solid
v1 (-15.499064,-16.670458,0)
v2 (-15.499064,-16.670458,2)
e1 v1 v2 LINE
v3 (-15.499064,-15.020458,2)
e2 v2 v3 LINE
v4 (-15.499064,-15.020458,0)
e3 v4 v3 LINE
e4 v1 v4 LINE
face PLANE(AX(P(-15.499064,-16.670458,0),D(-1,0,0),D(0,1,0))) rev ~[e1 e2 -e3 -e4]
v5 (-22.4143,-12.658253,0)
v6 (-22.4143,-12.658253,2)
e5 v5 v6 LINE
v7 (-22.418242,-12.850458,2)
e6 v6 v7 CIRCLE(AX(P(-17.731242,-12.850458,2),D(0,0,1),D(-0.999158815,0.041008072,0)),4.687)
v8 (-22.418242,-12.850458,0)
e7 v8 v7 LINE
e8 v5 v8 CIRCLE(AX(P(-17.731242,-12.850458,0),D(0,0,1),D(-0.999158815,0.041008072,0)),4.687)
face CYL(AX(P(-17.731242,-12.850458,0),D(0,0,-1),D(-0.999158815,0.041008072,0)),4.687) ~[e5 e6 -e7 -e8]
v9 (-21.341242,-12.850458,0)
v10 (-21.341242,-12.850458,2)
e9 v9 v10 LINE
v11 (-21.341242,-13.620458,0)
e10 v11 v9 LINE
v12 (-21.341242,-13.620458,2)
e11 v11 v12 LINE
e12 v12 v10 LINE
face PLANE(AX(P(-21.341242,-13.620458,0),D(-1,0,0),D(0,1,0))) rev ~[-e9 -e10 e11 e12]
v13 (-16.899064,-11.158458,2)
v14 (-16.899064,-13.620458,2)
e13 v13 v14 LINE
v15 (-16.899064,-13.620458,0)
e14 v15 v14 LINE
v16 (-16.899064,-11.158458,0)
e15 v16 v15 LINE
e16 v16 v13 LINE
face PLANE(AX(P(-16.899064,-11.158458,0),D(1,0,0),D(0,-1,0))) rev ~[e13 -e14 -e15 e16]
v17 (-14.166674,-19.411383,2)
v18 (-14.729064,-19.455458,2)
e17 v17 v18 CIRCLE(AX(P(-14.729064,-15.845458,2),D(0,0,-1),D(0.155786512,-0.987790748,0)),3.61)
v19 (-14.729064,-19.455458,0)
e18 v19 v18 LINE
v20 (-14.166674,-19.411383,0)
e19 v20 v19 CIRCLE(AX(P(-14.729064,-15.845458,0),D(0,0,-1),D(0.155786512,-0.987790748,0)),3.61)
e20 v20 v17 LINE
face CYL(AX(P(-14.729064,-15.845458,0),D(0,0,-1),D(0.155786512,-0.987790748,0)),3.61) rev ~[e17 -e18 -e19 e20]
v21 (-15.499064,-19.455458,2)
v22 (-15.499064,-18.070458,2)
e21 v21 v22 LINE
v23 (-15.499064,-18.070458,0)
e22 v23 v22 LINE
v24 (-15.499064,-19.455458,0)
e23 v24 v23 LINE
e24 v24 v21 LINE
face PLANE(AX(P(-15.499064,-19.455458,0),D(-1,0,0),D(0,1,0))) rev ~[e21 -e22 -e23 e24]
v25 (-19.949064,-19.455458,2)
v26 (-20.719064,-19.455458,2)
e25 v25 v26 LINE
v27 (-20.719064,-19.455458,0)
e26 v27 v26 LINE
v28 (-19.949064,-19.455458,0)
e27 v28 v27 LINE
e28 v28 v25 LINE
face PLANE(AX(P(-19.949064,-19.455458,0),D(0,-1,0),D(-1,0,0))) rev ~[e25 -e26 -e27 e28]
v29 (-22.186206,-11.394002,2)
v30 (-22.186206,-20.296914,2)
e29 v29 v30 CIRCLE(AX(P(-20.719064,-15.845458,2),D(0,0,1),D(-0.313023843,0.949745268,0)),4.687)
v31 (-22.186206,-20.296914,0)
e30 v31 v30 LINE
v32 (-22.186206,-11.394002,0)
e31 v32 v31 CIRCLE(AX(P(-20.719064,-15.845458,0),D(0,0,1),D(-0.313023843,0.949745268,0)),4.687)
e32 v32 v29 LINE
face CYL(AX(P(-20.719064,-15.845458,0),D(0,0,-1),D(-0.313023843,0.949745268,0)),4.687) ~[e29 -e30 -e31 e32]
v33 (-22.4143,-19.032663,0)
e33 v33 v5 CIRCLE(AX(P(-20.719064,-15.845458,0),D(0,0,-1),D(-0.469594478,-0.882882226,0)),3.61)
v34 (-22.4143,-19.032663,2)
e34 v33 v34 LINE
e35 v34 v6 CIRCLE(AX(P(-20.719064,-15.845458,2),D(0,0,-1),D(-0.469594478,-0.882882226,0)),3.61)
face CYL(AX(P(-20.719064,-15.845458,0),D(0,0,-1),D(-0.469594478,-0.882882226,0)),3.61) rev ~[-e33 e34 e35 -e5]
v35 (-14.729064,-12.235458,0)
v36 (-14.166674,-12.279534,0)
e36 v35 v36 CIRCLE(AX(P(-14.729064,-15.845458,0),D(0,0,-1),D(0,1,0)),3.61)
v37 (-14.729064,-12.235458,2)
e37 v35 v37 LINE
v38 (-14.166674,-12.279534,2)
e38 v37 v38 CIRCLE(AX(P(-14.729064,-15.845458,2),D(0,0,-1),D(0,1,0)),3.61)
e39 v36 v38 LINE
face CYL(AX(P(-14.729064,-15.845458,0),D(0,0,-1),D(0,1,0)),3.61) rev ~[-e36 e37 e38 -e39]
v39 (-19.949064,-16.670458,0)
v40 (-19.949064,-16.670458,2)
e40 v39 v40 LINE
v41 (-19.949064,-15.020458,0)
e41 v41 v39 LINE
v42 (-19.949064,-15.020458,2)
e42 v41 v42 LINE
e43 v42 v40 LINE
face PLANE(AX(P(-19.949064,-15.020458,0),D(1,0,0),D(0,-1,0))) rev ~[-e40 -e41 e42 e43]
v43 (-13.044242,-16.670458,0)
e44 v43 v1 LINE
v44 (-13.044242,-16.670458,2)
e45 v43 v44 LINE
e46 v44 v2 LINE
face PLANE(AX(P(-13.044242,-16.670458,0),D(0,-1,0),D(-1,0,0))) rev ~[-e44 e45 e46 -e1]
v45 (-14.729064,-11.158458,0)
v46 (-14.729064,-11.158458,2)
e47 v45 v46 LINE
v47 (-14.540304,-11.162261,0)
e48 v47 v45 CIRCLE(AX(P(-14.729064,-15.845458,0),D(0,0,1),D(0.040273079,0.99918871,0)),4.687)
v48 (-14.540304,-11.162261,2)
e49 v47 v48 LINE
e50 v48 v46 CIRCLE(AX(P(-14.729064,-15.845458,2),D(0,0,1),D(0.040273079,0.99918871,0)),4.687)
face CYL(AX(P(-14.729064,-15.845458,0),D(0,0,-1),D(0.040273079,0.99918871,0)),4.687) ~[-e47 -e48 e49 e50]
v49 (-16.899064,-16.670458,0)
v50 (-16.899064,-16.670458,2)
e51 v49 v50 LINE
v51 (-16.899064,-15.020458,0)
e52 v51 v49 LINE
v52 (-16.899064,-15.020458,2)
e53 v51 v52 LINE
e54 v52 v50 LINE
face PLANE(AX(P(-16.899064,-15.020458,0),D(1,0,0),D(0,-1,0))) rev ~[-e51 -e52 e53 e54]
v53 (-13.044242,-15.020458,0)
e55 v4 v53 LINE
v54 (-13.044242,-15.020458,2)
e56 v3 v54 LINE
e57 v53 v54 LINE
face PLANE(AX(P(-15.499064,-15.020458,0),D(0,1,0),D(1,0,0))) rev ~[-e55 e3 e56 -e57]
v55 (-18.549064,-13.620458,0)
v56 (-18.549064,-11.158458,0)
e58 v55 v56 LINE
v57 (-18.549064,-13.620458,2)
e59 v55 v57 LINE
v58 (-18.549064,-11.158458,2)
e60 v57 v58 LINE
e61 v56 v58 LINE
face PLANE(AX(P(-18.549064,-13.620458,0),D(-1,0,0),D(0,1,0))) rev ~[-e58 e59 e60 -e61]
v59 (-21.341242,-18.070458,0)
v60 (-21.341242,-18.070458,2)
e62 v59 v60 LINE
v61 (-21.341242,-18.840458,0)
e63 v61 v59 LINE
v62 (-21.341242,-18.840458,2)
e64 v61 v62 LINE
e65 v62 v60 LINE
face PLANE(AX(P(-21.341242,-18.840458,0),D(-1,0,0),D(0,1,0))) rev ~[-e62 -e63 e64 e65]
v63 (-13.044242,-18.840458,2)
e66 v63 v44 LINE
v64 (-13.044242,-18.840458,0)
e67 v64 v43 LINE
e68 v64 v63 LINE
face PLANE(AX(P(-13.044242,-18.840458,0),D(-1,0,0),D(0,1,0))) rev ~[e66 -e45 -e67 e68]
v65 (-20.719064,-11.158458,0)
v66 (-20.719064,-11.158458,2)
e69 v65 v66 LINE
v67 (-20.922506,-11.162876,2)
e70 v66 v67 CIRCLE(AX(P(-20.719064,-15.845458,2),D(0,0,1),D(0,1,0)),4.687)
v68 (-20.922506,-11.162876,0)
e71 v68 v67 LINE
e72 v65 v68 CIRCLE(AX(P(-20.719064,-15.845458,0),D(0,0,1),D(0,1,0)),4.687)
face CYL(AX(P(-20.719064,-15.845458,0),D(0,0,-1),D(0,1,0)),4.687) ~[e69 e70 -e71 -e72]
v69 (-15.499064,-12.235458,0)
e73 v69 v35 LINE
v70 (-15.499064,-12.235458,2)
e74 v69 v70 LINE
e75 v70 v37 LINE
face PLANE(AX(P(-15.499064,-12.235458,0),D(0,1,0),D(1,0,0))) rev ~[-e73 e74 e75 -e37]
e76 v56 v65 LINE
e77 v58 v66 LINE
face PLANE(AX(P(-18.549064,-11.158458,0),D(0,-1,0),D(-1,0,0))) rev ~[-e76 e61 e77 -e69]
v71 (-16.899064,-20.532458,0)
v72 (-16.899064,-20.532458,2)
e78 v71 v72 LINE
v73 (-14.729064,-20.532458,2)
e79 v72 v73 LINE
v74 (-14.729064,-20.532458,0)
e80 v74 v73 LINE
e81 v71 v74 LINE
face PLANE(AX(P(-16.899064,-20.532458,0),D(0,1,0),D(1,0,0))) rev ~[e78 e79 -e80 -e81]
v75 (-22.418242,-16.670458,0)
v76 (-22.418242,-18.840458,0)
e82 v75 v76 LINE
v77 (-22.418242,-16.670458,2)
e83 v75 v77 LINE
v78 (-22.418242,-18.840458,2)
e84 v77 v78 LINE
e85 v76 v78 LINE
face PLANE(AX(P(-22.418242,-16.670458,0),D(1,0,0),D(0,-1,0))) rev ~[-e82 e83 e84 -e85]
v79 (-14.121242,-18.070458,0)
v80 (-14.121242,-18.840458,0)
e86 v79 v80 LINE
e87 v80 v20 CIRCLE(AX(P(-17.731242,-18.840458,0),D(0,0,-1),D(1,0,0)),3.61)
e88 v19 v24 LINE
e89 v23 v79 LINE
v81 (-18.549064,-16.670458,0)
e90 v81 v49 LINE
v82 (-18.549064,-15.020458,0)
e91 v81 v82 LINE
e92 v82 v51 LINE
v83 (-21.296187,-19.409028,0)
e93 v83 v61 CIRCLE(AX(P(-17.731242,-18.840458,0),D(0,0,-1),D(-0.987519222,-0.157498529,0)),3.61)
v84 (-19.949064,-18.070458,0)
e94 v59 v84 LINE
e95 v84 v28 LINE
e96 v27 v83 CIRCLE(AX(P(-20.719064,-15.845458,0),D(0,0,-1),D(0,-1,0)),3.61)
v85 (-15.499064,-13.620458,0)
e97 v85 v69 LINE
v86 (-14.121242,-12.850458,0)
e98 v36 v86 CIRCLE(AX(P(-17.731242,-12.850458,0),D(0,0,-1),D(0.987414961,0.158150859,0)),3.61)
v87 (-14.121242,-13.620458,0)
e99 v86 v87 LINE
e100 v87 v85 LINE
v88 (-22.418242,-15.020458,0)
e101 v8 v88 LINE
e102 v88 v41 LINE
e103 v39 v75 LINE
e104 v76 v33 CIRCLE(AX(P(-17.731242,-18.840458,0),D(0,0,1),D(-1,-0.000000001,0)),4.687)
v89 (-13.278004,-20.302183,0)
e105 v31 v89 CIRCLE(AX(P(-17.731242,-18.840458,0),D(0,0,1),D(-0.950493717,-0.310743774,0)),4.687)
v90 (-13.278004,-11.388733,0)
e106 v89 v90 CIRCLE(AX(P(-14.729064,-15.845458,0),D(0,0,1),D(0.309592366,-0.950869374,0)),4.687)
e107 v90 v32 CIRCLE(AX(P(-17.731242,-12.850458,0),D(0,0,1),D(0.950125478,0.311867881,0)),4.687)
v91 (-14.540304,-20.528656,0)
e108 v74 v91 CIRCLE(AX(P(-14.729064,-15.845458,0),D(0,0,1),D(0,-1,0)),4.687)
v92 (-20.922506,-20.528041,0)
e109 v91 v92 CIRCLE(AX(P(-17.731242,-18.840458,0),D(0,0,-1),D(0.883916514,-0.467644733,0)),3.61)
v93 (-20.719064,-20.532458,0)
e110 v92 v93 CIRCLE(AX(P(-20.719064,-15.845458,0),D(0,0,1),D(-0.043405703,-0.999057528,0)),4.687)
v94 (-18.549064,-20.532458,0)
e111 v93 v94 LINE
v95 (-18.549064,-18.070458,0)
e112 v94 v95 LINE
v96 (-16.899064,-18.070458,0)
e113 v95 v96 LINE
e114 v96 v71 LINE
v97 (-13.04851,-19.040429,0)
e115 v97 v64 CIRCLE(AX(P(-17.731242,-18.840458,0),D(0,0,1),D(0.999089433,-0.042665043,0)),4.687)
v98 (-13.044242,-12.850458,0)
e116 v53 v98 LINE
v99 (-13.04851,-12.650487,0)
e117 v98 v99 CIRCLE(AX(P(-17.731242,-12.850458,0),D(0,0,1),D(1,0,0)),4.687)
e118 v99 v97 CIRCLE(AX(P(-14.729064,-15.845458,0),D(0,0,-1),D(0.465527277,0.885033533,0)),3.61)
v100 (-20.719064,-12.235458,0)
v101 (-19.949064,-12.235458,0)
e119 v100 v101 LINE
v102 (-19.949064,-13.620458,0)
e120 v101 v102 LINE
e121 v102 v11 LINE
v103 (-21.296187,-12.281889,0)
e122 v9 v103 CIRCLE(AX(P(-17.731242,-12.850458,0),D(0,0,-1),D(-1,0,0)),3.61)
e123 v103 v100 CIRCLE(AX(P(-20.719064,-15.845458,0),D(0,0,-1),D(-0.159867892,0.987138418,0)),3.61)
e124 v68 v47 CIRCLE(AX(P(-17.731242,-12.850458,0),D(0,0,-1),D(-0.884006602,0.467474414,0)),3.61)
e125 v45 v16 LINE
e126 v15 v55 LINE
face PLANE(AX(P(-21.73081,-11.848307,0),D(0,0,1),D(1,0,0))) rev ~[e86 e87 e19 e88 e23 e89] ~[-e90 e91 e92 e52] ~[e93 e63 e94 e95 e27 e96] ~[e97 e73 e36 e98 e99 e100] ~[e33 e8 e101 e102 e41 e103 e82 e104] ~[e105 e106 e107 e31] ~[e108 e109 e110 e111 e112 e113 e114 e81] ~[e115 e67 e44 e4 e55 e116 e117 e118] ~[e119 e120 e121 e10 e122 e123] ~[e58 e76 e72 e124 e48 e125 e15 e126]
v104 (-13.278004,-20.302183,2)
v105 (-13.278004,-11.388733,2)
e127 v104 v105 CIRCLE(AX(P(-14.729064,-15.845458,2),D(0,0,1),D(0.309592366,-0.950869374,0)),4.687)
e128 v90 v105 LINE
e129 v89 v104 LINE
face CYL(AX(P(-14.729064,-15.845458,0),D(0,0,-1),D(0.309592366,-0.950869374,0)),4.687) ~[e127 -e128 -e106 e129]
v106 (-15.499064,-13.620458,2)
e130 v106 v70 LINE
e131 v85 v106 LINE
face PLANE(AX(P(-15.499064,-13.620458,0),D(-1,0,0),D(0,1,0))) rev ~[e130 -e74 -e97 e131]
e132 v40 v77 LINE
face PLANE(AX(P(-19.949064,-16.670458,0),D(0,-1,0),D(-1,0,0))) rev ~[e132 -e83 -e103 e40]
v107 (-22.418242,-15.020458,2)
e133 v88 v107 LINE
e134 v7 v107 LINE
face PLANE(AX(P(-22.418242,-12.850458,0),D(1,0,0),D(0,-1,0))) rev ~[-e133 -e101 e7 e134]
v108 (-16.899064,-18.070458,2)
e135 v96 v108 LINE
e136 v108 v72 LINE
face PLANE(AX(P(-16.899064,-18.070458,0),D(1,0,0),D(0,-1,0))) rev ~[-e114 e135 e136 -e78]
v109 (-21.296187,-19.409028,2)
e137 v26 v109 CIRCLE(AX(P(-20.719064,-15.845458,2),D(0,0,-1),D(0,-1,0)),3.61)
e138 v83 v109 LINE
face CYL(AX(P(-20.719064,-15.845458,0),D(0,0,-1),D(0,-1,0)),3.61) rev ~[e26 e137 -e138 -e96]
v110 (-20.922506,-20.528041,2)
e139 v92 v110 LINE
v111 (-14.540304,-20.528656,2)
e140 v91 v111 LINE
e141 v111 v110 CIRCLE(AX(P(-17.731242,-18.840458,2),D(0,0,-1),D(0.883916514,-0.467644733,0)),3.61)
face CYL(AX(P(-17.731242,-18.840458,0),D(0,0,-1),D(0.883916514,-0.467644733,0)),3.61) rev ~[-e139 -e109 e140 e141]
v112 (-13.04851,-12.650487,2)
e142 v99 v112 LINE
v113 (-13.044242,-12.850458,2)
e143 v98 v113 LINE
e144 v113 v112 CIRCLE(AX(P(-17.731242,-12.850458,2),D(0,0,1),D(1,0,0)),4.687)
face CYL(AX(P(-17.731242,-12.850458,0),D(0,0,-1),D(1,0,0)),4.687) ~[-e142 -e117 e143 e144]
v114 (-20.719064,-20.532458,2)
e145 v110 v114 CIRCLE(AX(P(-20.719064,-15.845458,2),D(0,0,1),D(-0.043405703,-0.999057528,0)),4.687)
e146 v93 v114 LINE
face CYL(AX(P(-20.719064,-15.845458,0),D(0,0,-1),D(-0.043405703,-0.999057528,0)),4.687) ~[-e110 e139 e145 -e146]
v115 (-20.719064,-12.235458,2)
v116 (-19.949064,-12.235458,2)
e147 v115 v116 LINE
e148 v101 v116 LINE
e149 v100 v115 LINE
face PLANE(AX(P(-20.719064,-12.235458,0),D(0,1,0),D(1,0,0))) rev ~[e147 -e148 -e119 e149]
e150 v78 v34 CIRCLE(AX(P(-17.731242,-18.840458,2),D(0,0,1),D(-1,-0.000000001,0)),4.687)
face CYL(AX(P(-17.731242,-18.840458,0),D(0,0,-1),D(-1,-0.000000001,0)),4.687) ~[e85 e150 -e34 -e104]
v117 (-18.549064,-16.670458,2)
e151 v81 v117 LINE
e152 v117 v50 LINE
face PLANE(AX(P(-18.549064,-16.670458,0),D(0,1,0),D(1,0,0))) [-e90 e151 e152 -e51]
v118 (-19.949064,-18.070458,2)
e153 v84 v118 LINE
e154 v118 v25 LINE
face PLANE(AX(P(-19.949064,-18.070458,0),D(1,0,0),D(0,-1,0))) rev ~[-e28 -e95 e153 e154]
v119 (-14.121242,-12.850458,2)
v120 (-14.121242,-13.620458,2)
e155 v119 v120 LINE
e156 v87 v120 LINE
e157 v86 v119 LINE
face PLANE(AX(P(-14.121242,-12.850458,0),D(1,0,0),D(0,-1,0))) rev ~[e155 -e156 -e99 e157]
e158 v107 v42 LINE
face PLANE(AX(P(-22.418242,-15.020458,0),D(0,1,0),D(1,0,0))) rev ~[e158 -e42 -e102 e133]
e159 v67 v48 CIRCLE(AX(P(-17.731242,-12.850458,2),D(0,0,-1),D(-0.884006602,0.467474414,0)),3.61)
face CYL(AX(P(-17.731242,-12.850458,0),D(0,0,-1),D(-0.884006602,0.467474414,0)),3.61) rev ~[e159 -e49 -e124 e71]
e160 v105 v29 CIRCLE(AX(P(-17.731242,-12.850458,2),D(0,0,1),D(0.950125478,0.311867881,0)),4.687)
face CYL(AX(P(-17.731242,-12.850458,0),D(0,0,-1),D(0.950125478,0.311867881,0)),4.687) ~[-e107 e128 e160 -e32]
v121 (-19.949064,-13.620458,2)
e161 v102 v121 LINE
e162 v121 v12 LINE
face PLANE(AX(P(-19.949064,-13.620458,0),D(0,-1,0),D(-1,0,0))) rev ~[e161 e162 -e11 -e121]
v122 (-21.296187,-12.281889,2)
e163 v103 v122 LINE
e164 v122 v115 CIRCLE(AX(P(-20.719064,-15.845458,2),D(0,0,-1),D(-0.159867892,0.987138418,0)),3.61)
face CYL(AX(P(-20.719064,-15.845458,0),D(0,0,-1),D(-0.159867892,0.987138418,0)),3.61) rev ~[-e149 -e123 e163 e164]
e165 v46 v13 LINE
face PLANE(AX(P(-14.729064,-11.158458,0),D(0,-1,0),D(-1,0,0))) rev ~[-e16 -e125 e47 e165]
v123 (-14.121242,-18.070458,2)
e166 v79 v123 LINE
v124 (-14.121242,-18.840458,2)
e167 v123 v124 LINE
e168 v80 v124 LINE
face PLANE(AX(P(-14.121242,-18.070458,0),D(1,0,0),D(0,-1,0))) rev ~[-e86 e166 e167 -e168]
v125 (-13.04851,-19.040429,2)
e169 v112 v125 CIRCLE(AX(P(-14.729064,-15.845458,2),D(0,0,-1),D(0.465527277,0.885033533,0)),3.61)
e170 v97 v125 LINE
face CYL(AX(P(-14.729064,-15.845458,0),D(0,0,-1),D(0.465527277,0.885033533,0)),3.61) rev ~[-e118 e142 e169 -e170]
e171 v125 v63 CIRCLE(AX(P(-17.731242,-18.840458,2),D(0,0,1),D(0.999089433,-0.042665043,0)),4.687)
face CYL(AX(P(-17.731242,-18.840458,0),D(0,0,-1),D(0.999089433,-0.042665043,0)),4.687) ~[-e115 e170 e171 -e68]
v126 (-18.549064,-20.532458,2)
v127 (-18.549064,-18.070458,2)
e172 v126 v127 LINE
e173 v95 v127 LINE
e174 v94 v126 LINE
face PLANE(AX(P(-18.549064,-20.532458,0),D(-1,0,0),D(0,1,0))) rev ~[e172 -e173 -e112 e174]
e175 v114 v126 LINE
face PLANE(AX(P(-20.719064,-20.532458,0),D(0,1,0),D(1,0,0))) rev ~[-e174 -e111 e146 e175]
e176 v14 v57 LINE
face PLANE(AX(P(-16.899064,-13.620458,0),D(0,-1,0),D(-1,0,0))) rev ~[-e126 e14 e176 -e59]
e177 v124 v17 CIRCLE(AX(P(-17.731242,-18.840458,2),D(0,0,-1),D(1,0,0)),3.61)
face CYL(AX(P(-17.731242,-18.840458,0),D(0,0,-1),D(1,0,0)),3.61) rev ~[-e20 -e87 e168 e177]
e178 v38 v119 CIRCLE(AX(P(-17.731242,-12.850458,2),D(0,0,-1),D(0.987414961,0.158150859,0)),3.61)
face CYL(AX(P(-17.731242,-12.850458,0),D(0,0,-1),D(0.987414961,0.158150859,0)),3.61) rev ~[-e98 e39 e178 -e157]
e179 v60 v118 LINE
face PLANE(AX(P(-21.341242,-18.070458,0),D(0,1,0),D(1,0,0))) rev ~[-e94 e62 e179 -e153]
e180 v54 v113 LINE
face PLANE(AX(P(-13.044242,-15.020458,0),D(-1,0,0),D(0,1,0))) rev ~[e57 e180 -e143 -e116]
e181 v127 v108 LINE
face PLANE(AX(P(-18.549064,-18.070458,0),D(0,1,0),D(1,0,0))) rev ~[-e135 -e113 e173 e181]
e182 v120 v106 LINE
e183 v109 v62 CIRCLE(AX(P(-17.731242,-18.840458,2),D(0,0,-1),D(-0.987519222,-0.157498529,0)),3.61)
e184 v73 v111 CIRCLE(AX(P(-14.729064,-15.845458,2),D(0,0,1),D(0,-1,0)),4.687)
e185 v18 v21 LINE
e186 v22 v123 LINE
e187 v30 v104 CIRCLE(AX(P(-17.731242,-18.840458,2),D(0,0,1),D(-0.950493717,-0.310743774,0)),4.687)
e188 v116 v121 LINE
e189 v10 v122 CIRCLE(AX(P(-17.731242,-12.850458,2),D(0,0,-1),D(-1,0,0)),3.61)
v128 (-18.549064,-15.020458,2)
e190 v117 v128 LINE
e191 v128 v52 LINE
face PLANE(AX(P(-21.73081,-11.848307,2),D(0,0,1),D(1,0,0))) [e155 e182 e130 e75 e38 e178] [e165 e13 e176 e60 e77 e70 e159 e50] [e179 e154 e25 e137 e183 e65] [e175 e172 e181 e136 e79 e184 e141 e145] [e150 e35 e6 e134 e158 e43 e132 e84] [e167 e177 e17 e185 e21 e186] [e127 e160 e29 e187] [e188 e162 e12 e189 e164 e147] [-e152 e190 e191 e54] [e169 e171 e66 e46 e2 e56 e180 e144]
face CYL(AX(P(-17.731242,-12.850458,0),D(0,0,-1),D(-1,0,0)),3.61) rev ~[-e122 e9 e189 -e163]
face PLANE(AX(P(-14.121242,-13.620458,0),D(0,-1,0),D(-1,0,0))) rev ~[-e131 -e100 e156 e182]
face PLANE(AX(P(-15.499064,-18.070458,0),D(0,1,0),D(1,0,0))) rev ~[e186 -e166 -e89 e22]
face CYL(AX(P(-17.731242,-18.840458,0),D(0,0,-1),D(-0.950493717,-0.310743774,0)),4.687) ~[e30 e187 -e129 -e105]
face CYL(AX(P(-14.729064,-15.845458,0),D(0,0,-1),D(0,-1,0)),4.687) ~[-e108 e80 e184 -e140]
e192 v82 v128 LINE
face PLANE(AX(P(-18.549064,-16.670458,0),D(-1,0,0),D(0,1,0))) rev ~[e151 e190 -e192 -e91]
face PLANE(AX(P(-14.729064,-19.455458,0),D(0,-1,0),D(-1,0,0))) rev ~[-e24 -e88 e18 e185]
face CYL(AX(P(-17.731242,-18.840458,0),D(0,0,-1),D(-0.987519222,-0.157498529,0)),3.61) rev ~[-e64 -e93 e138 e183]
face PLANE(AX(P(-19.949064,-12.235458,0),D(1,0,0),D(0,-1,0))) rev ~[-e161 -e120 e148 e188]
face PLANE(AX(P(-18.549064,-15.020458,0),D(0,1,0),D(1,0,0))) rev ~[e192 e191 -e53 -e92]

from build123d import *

# Parameters (mm, degrees)
F0_W     = 1.4
F0_H     = 1.4
F0_W_2   = 1.65
F0_H_2   = 1.65
F1_DEPTH = 2


with BuildPart() as f1:
    # F0 (on Top) → F1 (new body)
    with BuildSketch(Plane.XY):
        with BuildLine():
            ThreePointArc((-21.2961866601, -12.2818885401), (-21.155367688, -11.7070138204), (-20.9225061022, -11.1628755952))
            ThreePointArc((-20.9225061022, -11.1628755952), (-21.5623124485, -11.234937617), (-22.186206323, -11.3940021608))
            ThreePointArc((-22.186206323, -11.3940021608), (-22.3437732086, -12.0182759568), (-22.4142996364, -12.6582533929))
            ThreePointArc((-22.4142996364, -12.6582533929), (-21.8707217917, -12.4240866724), (-21.2961866601, -12.2818885401))
        make_face()
        with BuildLine():
            ThreePointArc((-22.186206323, -11.3940021608), (-21.5623124485, -11.234937617), (-20.9225061022, -11.1628755952))
            ThreePointArc((-20.9225061022, -11.1628755952), (-17.7315900511, -9.2404582472), (-14.5403036541, -11.1622607443))
            ThreePointArc((-14.5403036541, -11.1622607443), (-13.9013713953, -11.2321194541), (-13.278004152, -11.3887334725))
            ThreePointArc((-13.278004152, -11.3887334725), (-17.7340143596, -8.1634590502), (-22.186206323, -11.3940021608))
        make_face()
        with BuildLine():
            ThreePointArc((-22.4142996364, -12.6582533929), (-22.3437732086, -12.0182759568), (-22.186206323, -11.3940021608))
            ThreePointArc((-22.186206323, -11.3940021608), (-25.4060635692, -15.8454582305), (-22.186206323, -20.2969143001))
            ThreePointArc((-22.186206323, -20.2969143001), (-22.3437732086, -19.6726405041), (-22.4142996364, -19.032663068))
            ThreePointArc((-22.4142996364, -19.032663068), (-24.3290635692, -15.8454582305), (-22.4142996364, -12.6582533929))
        make_face()
        with BuildLine():
            ThreePointArc((-13.278004152, -11.3887334725), (-13.9013713953, -11.2321194541), (-14.5403036541, -11.1622607443))
            ThreePointArc((-14.5403036541, -11.1622607443), (-14.3076050054, -11.7055530453), (-14.1666742594, -12.2795336289))
            ThreePointArc((-14.1666742594, -12.2795336289), (-13.5923579293, -12.4190898486), (-13.0485100994, -12.6504871765))
            ThreePointArc((-13.0485100994, -12.6504871765), (-13.1198982272, -12.011723992), (-13.278004152, -11.3887334725))
        make_face()
        with BuildLine():
            ThreePointArc((-22.4142996364, -19.032663068), (-22.3437732086, -19.6726405041), (-22.186206323, -20.2969143001))
            ThreePointArc((-22.186206323, -20.2969143001), (-21.5623124485, -20.455978844), (-20.9225061022, -20.5280408657))
            ThreePointArc((-20.9225061022, -20.5280408657), (-21.155367688, -19.9839026405), (-21.2961866601, -19.4090279208))
            ThreePointArc((-21.2961866601, -19.4090279208), (-21.8707217917, -19.2668297885), (-22.4142996364, -19.032663068))
        make_face()
        with BuildLine():
            ThreePointArc((-20.9225061022, -20.5280408657), (-21.5623124485, -20.455978844), (-22.186206323, -20.2969143001))
            ThreePointArc((-22.186206323, -20.2969143001), (-17.7340143596, -23.5274574107), (-13.278004152, -20.3021829884))
            ThreePointArc((-13.278004152, -20.3021829884), (-13.9013713953, -20.4587970068), (-14.5403036541, -20.5286557166))
            ThreePointArc((-14.5403036541, -20.5286557166), (-17.7315900511, -22.4504582137), (-20.9225061022, -20.5280408657))
        make_face()
        with BuildLine():
            ThreePointArc((-13.278004152, -20.3021829884), (-10.0420635692, -15.8454582305), (-13.278004152, -11.3887334725))
            ThreePointArc((-13.278004152, -11.3887334725), (-13.1198982272, -12.011723992), (-13.0485100994, -12.6504871765))
            ThreePointArc((-13.0485100994, -12.6504871765), (-11.1190635692, -15.8454582305), (-13.0485100994, -19.0404292844))
            ThreePointArc((-13.0485100994, -19.0404292844), (-13.1198982272, -19.6791924689), (-13.278004152, -20.3021829884))
        make_face()
        with BuildLine():
            ThreePointArc((-14.5403036541, -20.5286557166), (-13.9013713953, -20.4587970068), (-13.278004152, -20.3021829884))
            ThreePointArc((-13.278004152, -20.3021829884), (-13.1198982272, -19.6791924689), (-13.0485100994, -19.0404292844))
            ThreePointArc((-13.0485100994, -19.0404292844), (-13.5923579293, -19.2718266123), (-14.1666742594, -19.4113828321))
            ThreePointArc((-14.1666742594, -19.4113828321), (-14.3076050054, -19.9853634156), (-14.5403036541, -20.5286557166))
        make_face()
        with BuildLine():
            ThreePointArc((-21.3412422696, -12.8504582305), (-21.3299607394, -12.565282188), (-21.2961866601, -12.2818885401))
            ThreePointArc((-21.2961866601, -12.2818885401), (-21.8707217917, -12.4240866724), (-22.4142996364, -12.6582533929))
            ThreePointArc((-22.4142996364, -12.6582533929), (-22.4172565076, -12.7543355953), (-22.4182422696, -12.8504582305))
            Line((-22.4182422696, -12.8504582305), (-22.4182422696, -15.0204582305))
            Line((-22.4182422696, -15.0204582305), (-19.9490635692, -15.0204582305))
            Line((-19.9490635692, -15.0204582305), (-19.9490635692, -13.6204582305))
            Line((-19.9490635692, -13.6204582305), (-21.3412422696, -13.6204582305))
            Line((-21.3412422696, -13.6204582305), (-21.3412422696, -12.8504582305))
        make_face()
        with Locations((-19.2490635692, -14.3204582305)):
            Rectangle(F0_W, F0_H)
        with BuildLine():
            Line((-18.5490635692, -11.1584582305), (-20.7190635692, -11.1584582305))
            ThreePointArc((-20.7190635692, -11.1584582305), (-20.8208088115, -11.1595627018), (-20.9225061022, -11.1628755952))
            ThreePointArc((-20.9225061022, -11.1628755952), (-21.155367688, -11.7070138204), (-21.2961866601, -12.2818885401))
            ThreePointArc((-21.2961866601, -12.2818885401), (-21.0085574533, -12.2470845296), (-20.7190635692, -12.2354582305))
            Line((-20.7190635692, -12.2354582305), (-19.9490635692, -12.2354582305))
            Line((-19.9490635692, -12.2354582305), (-19.9490635692, -13.6204582305))
            Line((-19.9490635692, -13.6204582305), (-18.5490635692, -13.6204582305))
            Line((-18.5490635692, -13.6204582305), (-18.5490635692, -11.1584582305))
        make_face()
        with Locations((-17.7240635692, -14.3204582305)):
            Rectangle(F0_W_2, F0_H)
        with Locations((-16.1990635692, -14.3204582305)):
            Rectangle(F0_W, F0_H)
        with BuildLine():
            ThreePointArc((-13.0485100994, -12.6504871765), (-13.5923579293, -12.4190898486), (-14.1666742594, -12.2795336289))
            ThreePointArc((-14.1666742594, -12.2795336289), (-14.1326181911, -12.5640935301), (-14.1212422696, -12.8504582305))
            Line((-14.1212422696, -12.8504582305), (-14.1212422696, -13.6204582305))
            Line((-14.1212422696, -13.6204582305), (-15.4990635692, -13.6204582305))
            Line((-15.4990635692, -13.6204582305), (-15.4990635692, -15.0204582305))
            Line((-15.4990635692, -15.0204582305), (-13.0442422696, -15.0204582305))
            Line((-13.0442422696, -15.0204582305), (-13.0442422696, -12.8504582305))
            ThreePointArc((-13.0442422696, -12.8504582305), (-13.0453093485, -12.7504499348), (-13.0485100994, -12.6504871765))
        make_face()
        with BuildLine():
            ThreePointArc((-14.1666742594, -12.2795336289), (-14.3076050054, -11.7055530453), (-14.5403036541, -11.1622607443))
            ThreePointArc((-14.5403036541, -11.1622607443), (-14.6346644635, -11.1594089553), (-14.7290635692, -11.1584582305))
            Line((-14.7290635692, -11.1584582305), (-16.8990635692, -11.1584582305))
            Line((-16.8990635692, -11.1584582305), (-16.8990635692, -13.6204582305))
            Line((-16.8990635692, -13.6204582305), (-15.4990635692, -13.6204582305))
            Line((-15.4990635692, -13.6204582305), (-15.4990635692, -12.2354582305))
            Line((-15.4990635692, -12.2354582305), (-14.7290635692, -12.2354582305))
            ThreePointArc((-14.7290635692, -12.2354582305), (-14.4470066704, -12.2464939481), (-14.1666742594, -12.2795336289))
        make_face()
        with BuildLine():
            ThreePointArc((-14.7290635692, -20.5324582305), (-14.6346644635, -20.5315075056), (-14.5403036541, -20.5286557166))
            ThreePointArc((-14.5403036541, -20.5286557166), (-14.3076050054, -19.9853634156), (-14.1666742594, -19.4113828321))
            ThreePointArc((-14.1666742594, -19.4113828321), (-14.4470066704, -19.4444225128), (-14.7290635692, -19.4554582305))
            Line((-14.7290635692, -19.4554582305), (-15.4990635692, -19.4554582305))
            Line((-15.4990635692, -19.4554582305), (-15.4990635692, -18.0704582305))
            Line((-15.4990635692, -18.0704582305), (-16.8990635692, -18.0704582305))
            Line((-16.8990635692, -18.0704582305), (-16.8990635692, -20.5324582305))
            Line((-16.8990635692, -20.5324582305), (-14.7290635692, -20.5324582305))
        make_face()
        with BuildLine():
            ThreePointArc((-14.1666742594, -19.4113828321), (-13.5923579293, -19.2718266123), (-13.0485100994, -19.0404292844))
            ThreePointArc((-13.0485100994, -19.0404292844), (-13.0453093485, -18.9404665261), (-13.0442422696, -18.8404582305))
            Line((-13.0442422696, -18.8404582305), (-13.0442422696, -16.6704582305))
            Line((-13.0442422696, -16.6704582305), (-15.4990635692, -16.6704582305))
            Line((-15.4990635692, -16.6704582305), (-15.4990635692, -18.0704582305))
            Line((-15.4990635692, -18.0704582305), (-14.1212422696, -18.0704582305))
            Line((-14.1212422696, -18.0704582305), (-14.1212422696, -18.8404582305))
            ThreePointArc((-14.1212422696, -18.8404582305), (-14.1326181911, -19.1268229308), (-14.1666742594, -19.4113828321))
        make_face()
        with Locations((-16.1990635692, -17.3704582305)):
            Rectangle(F0_W, F0_H)
        with Locations((-16.1990635692, -15.8454582305)):
            Rectangle(F0_W, F0_H_2)
        with Locations((-19.2490635692, -17.3704582305)):
            Rectangle(F0_W, F0_H)
        with Locations((-19.2490635692, -15.8454582305)):
            Rectangle(F0_W, F0_H_2)
        with Locations((-17.7240635692, -17.3704582305)):
            Rectangle(F0_W_2, F0_H)
        with BuildLine():
            ThreePointArc((-21.2961866601, -19.4090279208), (-21.155367688, -19.9839026405), (-20.9225061022, -20.5280408657))
            ThreePointArc((-20.9225061022, -20.5280408657), (-20.8208088115, -20.5313537591), (-20.7190635692, -20.5324582305))
            Line((-20.7190635692, -20.5324582305), (-18.5490635692, -20.5324582305))
            Line((-18.5490635692, -20.5324582305), (-18.5490635692, -18.0704582305))
            Line((-18.5490635692, -18.0704582305), (-19.9490635692, -18.0704582305))
            Line((-19.9490635692, -18.0704582305), (-19.9490635692, -19.4554582305))
            Line((-19.9490635692, -19.4554582305), (-20.7190635692, -19.4554582305))
            ThreePointArc((-20.7190635692, -19.4554582305), (-21.0085574533, -19.4438319313), (-21.2961866601, -19.4090279208))
        make_face()
        with BuildLine():
            ThreePointArc((-22.4182422696, -18.8404582305), (-22.4172565076, -18.9365808656), (-22.4142996364, -19.032663068))
            ThreePointArc((-22.4142996364, -19.032663068), (-21.8707217917, -19.2668297885), (-21.2961866601, -19.4090279208))
            ThreePointArc((-21.2961866601, -19.4090279208), (-21.3299607394, -19.1256342729), (-21.3412422696, -18.8404582305))
            Line((-21.3412422696, -18.8404582305), (-21.3412422696, -18.0704582305))
            Line((-21.3412422696, -18.0704582305), (-19.9490635692, -18.0704582305))
            Line((-19.9490635692, -18.0704582305), (-19.9490635692, -16.6704582305))
            Line((-19.9490635692, -16.6704582305), (-22.4182422696, -16.6704582305))
            Line((-22.4182422696, -16.6704582305), (-22.4182422696, -18.8404582305))
        make_face()
    extrude(amount=F1_DEPTH)


solid = f1.part
